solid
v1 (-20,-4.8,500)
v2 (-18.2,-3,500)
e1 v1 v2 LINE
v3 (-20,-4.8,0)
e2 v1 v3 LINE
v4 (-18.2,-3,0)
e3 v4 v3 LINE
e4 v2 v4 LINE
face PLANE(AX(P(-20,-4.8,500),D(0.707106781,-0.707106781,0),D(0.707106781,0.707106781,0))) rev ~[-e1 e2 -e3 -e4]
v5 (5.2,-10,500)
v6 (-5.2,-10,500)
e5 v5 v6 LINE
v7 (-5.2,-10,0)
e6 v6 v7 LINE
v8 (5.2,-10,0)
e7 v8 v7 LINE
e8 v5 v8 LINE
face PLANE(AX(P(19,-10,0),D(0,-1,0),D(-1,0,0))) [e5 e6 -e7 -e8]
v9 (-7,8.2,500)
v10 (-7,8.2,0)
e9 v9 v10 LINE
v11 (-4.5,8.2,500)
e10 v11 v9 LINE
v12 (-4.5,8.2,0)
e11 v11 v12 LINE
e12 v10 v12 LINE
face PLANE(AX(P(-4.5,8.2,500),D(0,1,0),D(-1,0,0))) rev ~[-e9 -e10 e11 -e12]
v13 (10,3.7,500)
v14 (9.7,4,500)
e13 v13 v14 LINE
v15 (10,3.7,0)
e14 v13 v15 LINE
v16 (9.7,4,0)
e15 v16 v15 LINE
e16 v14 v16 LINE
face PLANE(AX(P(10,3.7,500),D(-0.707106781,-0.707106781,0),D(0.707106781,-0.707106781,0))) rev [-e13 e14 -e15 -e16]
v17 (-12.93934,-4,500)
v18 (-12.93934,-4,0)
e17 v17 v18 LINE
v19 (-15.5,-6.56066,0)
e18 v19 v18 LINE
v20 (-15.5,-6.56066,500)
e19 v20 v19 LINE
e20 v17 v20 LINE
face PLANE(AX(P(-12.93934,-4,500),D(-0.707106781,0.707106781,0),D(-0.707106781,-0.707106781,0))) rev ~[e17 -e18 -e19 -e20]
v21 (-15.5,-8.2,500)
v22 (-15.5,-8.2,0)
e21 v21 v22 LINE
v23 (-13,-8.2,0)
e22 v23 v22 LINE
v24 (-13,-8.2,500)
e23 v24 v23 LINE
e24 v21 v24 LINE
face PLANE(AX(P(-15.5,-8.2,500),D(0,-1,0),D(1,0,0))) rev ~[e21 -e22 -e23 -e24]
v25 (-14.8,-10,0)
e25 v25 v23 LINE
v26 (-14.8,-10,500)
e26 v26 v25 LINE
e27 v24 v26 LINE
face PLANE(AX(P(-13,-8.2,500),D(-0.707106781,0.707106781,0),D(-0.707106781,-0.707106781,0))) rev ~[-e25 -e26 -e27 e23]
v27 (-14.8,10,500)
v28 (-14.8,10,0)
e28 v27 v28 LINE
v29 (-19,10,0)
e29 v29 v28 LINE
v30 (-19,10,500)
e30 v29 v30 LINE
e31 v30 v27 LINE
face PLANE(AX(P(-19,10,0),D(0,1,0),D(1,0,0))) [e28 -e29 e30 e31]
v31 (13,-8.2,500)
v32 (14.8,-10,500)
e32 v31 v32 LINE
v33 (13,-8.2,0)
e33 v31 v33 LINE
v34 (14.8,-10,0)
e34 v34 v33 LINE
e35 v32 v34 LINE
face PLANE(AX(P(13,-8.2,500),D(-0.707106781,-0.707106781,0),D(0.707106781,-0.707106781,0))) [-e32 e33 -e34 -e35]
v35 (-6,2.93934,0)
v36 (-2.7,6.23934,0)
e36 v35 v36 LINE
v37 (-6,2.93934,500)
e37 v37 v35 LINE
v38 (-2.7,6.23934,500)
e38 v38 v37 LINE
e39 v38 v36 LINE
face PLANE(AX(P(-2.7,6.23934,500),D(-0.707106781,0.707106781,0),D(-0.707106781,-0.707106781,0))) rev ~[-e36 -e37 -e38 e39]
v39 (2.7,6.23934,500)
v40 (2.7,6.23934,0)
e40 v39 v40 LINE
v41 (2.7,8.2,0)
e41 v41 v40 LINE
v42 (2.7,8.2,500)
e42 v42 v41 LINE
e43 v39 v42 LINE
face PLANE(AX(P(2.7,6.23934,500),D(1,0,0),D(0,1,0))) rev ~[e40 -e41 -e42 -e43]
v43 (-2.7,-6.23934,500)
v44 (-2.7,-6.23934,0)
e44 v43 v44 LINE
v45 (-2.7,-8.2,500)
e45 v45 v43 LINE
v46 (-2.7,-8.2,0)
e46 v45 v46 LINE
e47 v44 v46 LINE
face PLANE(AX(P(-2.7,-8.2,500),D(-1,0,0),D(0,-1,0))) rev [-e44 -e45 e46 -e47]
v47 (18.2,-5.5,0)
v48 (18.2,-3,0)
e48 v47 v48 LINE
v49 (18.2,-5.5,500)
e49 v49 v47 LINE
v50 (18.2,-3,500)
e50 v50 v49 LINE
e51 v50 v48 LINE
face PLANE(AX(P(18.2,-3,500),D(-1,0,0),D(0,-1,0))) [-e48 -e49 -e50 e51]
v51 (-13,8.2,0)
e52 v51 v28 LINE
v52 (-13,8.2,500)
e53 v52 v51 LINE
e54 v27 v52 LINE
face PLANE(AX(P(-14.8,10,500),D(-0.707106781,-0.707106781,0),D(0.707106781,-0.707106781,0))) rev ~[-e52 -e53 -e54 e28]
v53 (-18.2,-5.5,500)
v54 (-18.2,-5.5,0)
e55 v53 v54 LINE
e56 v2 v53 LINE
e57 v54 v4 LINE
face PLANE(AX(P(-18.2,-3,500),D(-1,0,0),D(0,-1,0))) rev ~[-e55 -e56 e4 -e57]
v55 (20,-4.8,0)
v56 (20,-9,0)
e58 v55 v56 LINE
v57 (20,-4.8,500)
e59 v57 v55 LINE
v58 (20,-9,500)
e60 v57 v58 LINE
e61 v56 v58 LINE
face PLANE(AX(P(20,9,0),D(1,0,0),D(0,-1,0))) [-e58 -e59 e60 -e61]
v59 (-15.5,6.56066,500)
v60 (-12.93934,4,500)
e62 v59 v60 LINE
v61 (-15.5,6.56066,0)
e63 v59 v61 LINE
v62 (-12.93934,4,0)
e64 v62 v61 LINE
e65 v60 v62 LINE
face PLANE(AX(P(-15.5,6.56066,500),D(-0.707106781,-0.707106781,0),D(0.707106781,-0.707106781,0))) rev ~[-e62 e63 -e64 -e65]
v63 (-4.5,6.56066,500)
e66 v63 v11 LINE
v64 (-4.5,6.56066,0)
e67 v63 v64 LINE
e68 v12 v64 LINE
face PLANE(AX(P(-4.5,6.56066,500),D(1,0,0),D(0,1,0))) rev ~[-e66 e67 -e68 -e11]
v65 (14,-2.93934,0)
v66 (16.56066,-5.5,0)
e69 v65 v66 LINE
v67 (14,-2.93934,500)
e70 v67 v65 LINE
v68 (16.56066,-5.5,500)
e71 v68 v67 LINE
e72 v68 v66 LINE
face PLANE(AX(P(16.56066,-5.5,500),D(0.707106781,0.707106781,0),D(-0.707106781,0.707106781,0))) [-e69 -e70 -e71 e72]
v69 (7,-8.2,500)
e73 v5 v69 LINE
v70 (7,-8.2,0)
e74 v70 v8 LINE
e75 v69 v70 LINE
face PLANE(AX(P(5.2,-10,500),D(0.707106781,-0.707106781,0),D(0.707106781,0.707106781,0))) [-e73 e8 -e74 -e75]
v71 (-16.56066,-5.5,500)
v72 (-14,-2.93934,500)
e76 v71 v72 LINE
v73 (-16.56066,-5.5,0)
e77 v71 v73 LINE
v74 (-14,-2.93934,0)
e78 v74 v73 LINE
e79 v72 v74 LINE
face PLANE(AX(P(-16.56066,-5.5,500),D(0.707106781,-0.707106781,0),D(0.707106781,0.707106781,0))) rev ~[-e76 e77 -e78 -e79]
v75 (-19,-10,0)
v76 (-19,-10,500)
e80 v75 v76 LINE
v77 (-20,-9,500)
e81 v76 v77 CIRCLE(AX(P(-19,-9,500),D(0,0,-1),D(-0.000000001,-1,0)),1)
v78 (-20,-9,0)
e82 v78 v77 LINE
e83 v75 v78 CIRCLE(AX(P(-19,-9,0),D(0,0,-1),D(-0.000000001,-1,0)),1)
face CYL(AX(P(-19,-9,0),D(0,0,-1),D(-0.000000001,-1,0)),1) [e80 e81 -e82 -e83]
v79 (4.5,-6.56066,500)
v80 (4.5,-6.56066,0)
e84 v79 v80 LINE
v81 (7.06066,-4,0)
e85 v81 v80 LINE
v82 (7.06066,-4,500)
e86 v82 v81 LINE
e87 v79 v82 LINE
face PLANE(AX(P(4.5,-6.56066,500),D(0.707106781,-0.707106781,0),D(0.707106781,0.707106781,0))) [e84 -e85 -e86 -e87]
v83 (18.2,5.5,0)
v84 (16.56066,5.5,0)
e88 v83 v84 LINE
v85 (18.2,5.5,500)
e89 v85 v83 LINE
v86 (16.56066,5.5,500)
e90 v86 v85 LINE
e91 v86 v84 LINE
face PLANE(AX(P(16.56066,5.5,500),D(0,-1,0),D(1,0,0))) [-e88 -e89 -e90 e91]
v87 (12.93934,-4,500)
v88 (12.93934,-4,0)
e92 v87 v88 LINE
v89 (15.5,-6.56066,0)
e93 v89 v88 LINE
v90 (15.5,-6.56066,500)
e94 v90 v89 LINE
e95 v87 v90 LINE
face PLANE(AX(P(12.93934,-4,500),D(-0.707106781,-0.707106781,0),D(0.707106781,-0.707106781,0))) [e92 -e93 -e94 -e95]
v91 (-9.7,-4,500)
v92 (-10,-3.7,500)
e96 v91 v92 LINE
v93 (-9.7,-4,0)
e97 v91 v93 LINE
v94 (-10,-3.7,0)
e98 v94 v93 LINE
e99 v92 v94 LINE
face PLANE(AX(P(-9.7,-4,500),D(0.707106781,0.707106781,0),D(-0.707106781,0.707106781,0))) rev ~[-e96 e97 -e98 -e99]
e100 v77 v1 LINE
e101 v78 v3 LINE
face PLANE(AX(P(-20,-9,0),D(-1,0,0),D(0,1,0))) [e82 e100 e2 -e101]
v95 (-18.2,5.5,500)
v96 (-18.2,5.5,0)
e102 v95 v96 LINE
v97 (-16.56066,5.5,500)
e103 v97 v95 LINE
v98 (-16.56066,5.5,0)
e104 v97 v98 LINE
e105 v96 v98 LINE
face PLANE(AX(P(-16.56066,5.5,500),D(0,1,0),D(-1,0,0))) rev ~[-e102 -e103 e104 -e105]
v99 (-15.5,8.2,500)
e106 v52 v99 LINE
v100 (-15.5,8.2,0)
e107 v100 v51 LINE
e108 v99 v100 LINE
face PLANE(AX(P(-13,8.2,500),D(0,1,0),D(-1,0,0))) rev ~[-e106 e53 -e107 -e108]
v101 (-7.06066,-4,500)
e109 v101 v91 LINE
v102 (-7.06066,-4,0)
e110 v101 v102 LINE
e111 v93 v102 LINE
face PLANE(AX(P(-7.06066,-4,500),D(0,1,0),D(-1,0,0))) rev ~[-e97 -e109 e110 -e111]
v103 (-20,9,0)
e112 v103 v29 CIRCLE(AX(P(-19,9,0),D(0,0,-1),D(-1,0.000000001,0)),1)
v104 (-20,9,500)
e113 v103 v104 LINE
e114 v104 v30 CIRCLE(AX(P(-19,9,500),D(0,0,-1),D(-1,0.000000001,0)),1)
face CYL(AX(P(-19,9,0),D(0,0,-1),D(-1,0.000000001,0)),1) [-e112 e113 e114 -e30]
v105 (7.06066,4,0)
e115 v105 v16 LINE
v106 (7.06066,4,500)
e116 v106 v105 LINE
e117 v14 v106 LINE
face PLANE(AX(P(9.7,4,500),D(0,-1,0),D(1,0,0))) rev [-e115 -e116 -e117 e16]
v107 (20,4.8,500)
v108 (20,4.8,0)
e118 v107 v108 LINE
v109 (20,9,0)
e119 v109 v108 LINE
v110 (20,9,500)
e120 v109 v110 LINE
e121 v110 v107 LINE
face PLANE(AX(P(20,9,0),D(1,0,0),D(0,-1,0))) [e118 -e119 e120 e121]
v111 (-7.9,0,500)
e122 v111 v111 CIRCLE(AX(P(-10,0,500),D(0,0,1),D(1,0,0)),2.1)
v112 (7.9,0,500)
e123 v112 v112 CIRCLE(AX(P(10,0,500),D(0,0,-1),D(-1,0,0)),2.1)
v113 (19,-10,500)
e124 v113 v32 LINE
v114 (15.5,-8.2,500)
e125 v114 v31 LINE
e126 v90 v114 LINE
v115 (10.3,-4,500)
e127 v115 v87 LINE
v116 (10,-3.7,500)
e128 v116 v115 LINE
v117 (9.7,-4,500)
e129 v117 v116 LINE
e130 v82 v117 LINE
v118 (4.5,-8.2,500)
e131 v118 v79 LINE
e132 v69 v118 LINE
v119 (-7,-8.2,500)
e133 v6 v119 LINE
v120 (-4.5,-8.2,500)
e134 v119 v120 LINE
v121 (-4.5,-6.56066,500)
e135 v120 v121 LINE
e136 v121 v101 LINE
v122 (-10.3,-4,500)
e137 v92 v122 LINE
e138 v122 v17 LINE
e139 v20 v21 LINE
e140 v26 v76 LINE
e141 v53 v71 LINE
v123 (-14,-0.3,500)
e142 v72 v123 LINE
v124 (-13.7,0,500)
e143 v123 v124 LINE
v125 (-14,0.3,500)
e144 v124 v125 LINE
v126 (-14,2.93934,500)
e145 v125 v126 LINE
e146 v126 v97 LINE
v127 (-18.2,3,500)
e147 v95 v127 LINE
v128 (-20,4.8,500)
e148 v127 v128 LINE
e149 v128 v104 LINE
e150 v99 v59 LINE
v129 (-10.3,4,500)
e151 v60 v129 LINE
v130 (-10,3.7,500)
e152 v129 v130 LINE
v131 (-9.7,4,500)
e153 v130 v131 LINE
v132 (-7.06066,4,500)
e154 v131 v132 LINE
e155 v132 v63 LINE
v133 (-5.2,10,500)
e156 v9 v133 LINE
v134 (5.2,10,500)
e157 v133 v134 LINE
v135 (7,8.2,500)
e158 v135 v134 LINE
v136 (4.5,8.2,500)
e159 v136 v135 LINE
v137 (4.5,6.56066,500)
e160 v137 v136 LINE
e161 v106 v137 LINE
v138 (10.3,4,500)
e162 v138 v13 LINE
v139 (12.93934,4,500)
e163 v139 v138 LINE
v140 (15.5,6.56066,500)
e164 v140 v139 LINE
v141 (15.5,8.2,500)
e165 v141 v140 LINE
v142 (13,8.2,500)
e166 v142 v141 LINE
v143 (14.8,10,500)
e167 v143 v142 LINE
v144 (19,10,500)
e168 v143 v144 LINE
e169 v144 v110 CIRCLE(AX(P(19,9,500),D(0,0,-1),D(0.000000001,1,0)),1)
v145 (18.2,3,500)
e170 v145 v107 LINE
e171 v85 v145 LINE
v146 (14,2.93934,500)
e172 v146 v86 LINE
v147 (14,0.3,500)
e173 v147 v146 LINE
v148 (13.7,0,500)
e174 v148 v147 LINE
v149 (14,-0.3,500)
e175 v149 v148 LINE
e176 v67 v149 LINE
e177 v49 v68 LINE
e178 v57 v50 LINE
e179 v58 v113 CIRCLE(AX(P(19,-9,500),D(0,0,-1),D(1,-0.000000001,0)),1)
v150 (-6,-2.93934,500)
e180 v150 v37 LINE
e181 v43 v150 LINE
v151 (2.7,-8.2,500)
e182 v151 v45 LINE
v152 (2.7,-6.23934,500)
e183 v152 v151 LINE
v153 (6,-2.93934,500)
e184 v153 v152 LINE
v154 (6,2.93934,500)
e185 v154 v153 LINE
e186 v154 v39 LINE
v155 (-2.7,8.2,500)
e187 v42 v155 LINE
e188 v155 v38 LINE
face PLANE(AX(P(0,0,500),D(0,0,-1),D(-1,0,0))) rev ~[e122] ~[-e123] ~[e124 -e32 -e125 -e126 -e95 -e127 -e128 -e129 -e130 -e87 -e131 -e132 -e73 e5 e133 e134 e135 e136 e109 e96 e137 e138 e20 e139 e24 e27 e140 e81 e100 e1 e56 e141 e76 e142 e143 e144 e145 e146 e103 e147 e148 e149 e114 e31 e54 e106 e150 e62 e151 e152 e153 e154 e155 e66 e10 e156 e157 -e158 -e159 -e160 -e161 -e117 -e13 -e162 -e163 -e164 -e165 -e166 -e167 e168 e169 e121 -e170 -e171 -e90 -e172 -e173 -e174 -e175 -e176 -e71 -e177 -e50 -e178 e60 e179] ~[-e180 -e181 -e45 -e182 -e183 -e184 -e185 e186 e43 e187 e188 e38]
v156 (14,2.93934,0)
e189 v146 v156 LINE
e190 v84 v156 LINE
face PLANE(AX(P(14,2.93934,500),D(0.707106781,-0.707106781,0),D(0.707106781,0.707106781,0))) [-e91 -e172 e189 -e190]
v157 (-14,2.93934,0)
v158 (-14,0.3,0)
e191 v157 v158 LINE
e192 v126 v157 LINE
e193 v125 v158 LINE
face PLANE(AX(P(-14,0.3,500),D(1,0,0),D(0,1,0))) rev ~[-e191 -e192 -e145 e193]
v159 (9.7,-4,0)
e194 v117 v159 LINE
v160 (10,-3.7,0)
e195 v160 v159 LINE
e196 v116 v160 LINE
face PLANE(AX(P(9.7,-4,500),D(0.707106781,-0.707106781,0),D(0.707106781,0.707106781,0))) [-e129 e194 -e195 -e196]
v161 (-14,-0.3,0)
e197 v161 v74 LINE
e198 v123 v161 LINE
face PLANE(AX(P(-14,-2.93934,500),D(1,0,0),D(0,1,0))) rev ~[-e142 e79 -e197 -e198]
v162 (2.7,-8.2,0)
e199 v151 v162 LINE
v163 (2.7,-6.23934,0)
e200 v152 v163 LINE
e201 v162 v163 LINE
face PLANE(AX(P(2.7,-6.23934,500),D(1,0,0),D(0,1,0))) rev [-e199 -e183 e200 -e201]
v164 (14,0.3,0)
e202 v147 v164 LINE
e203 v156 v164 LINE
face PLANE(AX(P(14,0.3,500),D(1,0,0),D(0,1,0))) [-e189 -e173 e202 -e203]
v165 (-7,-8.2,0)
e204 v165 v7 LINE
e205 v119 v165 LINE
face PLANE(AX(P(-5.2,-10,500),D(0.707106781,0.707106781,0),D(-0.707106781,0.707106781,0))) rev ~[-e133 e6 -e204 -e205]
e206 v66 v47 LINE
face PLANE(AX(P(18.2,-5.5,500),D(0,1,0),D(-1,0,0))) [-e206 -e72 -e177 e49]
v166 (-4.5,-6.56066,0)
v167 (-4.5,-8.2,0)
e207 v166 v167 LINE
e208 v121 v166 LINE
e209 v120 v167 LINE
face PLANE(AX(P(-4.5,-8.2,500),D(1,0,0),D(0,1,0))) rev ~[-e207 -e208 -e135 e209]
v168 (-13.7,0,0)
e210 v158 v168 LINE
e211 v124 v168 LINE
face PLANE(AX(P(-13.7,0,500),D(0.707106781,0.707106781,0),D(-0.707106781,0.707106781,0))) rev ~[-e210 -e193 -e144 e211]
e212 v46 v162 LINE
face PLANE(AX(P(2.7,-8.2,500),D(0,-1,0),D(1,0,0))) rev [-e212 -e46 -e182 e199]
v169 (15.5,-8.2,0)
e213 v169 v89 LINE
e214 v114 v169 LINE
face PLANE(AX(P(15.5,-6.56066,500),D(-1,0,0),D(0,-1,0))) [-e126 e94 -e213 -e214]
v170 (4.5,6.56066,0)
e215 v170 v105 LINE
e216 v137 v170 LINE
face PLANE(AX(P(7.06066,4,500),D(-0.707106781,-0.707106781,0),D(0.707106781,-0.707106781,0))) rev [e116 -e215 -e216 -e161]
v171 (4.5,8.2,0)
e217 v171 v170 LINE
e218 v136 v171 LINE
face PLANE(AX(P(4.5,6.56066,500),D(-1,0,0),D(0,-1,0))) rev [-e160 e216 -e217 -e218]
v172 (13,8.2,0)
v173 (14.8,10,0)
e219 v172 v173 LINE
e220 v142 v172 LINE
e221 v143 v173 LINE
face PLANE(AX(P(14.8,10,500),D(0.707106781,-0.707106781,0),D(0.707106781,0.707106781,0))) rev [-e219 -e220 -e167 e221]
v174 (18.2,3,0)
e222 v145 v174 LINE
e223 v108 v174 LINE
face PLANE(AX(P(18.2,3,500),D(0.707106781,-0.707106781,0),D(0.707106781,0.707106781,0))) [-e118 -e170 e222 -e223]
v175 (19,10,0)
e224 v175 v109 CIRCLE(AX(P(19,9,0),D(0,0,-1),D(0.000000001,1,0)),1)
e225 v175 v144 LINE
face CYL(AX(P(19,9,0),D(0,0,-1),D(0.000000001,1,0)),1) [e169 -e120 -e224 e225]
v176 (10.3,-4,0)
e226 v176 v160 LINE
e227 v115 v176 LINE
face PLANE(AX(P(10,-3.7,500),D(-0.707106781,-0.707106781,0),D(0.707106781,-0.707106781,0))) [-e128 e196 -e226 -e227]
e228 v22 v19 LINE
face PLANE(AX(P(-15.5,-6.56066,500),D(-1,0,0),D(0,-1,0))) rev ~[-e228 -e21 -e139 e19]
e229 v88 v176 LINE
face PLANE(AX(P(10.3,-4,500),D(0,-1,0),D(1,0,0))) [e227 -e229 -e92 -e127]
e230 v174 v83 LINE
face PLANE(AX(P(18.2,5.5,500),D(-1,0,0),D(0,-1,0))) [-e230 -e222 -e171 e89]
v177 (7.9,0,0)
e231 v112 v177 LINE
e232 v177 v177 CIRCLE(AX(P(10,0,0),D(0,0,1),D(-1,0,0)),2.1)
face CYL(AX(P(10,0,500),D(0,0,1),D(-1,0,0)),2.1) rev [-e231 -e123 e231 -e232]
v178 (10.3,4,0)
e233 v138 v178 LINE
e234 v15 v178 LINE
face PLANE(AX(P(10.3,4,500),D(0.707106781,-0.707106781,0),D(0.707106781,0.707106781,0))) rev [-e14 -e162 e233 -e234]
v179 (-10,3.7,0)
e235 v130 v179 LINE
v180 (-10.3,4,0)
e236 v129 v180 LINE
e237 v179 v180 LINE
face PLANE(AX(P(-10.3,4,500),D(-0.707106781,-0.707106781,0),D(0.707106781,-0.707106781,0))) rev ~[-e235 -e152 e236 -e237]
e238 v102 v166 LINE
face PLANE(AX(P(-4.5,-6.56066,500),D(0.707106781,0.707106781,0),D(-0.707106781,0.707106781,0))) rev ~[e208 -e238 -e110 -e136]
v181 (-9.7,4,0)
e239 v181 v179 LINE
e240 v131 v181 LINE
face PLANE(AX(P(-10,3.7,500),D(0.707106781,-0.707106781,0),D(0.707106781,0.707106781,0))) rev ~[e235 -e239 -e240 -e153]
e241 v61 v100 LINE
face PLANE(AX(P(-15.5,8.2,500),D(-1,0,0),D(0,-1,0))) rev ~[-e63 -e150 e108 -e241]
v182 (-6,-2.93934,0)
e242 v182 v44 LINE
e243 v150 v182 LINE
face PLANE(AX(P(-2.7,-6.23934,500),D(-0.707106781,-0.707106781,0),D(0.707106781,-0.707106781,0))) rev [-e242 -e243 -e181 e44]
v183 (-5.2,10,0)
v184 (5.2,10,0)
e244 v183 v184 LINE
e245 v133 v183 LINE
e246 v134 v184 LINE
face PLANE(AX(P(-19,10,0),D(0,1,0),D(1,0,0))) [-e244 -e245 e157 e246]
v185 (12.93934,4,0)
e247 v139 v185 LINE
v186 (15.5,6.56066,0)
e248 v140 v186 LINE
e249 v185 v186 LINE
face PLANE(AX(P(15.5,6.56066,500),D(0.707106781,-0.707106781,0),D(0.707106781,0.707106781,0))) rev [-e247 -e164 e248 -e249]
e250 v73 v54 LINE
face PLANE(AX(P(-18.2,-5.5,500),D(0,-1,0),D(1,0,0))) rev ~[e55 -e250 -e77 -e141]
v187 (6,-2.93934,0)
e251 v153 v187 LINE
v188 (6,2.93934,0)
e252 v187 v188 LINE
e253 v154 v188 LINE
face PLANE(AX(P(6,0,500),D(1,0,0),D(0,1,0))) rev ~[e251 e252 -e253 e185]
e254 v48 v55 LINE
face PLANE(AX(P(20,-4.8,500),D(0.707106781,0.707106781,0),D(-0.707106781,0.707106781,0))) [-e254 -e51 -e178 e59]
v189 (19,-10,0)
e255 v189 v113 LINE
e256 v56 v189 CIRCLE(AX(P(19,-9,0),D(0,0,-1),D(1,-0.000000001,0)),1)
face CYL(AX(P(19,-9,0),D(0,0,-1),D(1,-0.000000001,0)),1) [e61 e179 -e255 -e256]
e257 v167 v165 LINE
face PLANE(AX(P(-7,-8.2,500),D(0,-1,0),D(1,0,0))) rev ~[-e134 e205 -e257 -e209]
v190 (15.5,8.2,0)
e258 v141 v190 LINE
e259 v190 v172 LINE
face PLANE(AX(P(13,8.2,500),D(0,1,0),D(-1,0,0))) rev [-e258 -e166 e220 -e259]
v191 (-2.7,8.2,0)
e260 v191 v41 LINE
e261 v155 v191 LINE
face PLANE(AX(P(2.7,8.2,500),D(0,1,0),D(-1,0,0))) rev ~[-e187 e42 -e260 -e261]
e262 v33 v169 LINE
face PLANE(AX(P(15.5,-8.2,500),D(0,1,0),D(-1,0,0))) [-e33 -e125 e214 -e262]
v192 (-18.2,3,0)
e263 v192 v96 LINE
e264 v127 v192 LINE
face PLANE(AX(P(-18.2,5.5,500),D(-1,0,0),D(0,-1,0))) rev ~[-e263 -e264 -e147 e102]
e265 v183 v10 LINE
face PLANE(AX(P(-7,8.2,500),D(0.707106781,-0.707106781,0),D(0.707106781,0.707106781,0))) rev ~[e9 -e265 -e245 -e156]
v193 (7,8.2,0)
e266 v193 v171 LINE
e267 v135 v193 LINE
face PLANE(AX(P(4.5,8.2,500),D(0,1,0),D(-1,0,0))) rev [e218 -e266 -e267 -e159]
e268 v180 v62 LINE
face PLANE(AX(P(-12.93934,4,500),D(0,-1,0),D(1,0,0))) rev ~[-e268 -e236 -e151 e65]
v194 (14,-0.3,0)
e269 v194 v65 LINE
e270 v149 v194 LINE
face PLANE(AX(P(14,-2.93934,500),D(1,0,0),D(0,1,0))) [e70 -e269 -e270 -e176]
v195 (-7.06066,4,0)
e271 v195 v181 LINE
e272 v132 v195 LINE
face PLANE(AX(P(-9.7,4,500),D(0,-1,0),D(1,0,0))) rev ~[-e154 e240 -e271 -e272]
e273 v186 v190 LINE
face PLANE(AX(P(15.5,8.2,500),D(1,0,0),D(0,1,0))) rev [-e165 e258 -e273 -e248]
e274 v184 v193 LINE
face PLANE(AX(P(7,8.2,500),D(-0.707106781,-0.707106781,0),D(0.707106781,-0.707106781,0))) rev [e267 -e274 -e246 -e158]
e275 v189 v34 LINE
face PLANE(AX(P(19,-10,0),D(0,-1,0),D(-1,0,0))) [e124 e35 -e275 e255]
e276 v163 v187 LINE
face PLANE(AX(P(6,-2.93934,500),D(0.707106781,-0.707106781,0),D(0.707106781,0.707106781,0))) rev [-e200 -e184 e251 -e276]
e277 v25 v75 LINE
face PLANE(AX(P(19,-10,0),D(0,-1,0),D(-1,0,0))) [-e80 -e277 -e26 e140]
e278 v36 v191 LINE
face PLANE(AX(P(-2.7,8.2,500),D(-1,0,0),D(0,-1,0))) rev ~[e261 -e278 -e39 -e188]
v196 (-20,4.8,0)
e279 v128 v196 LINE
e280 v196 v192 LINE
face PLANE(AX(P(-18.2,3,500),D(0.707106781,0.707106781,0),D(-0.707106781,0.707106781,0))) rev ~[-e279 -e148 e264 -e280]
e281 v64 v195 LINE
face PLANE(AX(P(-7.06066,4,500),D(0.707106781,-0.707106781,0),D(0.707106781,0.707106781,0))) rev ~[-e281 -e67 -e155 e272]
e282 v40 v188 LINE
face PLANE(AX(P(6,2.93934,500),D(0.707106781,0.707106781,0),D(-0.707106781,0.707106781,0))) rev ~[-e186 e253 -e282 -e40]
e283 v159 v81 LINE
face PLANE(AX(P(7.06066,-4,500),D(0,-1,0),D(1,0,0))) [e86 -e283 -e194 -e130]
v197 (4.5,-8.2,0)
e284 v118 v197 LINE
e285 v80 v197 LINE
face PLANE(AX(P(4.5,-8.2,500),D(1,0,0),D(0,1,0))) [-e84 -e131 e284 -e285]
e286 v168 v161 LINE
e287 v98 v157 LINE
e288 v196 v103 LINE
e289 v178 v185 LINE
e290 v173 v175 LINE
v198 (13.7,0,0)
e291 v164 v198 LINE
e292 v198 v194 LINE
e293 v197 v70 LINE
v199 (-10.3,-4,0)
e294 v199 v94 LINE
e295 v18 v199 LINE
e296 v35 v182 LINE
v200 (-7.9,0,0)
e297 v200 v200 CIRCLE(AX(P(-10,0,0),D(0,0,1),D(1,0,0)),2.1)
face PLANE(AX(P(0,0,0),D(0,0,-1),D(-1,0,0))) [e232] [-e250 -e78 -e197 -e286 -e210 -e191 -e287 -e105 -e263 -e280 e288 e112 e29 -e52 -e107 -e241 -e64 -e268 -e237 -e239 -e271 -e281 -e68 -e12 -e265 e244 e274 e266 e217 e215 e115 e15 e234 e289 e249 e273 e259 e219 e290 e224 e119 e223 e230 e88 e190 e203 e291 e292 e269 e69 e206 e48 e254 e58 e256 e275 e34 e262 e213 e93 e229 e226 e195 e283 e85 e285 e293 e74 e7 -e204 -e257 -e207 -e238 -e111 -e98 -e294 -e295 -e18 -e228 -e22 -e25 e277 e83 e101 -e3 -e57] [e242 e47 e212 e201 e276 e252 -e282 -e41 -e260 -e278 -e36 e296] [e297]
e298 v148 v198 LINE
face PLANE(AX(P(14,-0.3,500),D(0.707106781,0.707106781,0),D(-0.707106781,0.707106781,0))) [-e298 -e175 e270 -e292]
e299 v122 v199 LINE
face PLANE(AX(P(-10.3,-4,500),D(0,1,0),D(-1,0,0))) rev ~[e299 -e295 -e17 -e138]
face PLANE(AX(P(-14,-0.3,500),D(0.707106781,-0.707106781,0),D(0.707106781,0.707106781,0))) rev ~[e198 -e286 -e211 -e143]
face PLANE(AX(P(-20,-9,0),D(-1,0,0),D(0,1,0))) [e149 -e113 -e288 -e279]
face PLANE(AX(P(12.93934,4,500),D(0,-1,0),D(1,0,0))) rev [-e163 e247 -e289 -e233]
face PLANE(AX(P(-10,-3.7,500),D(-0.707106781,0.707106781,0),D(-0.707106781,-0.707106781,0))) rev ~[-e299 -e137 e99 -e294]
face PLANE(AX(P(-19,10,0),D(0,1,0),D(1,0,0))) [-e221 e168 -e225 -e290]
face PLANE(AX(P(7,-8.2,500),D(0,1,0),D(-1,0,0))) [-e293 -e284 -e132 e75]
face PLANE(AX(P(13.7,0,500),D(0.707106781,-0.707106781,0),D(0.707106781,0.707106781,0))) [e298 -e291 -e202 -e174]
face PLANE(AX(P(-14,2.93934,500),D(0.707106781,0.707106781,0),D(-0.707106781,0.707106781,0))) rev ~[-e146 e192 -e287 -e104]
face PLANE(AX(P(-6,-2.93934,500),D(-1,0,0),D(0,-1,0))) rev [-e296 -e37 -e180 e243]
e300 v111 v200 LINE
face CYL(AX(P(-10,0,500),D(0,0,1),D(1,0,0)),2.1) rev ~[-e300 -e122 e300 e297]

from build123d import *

# Parameters (mm, degrees)
RESSALTO_EXTRUS_O1_DEPTH = 500
CANAL_DEPTH              = 800
ESBO_O2_5_R              = 2.1
FURO_DEPTH               = 501.49975025
CORTE_EXTRUS_O4_DEPTH    = 501.49975025
PADR_OCIRCULAR2_COUNT    = 3
PADR_OCIRCULAR2_ANGLE    = 180
ESPELHAR2_COPY_1_DEPTH   = 800
ESPELHAR2_COPY_2_DEPTH   = 800


with BuildPart() as part:
    # Esboço1 → Ressalto-extrusão1 (new body)
    with BuildSketch(Plane.XY):
        with BuildLine():
            Line((-19, 10), (19, 10))
            ThreePointArc((19, 10), (19.707106781, 9.707106781), (20, 9))
            Line((20, 9), (20, -9))
            ThreePointArc((20, -9), (19.707106781, -9.707106781), (19, -10))
            Line((19, -10), (-19, -10))
            ThreePointArc((-19, -10), (-19.707106781, -9.707106781), (-20, -9))
            Line((-20, -9), (-20, 9))
            ThreePointArc((-20, 9), (-19.707106781, 9.707106781), (-19, 10))
        make_face()
    extrude(amount=RESSALTO_EXTRUS_O1_DEPTH)

    # Esboço2 → CANAL (cut)
    with BuildSketch(Plane.XY.offset(500)):
        Polygon((-14.8, 10), (-13, 8.2), (-15.5, 8.2), (-15.5, 6.560660172), (-12.939339828, 4), (-10.3, 4), (-10, 3.7), (-9.7, 4), (-7.060660172, 4), (-4.5, 6.560660172), (-4.5, 8.2), (-7, 8.2), (-5.2, 10), align=None)
    canal = extrude(amount=-CANAL_DEPTH, mode=Mode.SUBTRACT)

    # Esboço2<5> → FURO (cut, through all)
    with BuildSketch(Plane.XY.offset(500)):
        with Locations((-10, 0)):
            Circle(ESBO_O2_5_R)
    furo = extrude(amount=-FURO_DEPTH, mode=Mode.SUBTRACT)

    # Esboço2<6> → Corte-extrusão4 (cut, through all)
    with BuildSketch(Plane.XY.offset(500)):
        Polygon((-2.7, 8.2), (-2.7, 6.239339828), (-6, 2.939339828), (-6, 0), (6, 0), (6, 2.939339828), (2.7, 6.239339828), (2.7, 8.2), align=None)
    corte_extrus_o4 = extrude(amount=-CORTE_EXTRUS_O4_DEPTH, mode=Mode.SUBTRACT)

    # PadrãoCircular2: CANAL ×3 about axis
    padr_ocircular2_axis = Axis((-10, 0, 0), (0, 0, 1))
    for i in range(1, PADR_OCIRCULAR2_COUNT):
        add(canal.rotate(padr_ocircular2_axis, i * PADR_OCIRCULAR2_ANGLE / (PADR_OCIRCULAR2_COUNT - 1)), mode=Mode.SUBTRACT)

    # Espelhar2: CANAL, FURO, Corte-extrusão4 across plane
    add(canal.mirror(Plane(origin=(0, 0, 0), x_dir=(0, 0, 1), z_dir=(1, 0, 0))), mode=Mode.SUBTRACT)
    add(furo.mirror(Plane(origin=(0, 0, 0), x_dir=(0, 0, 1), z_dir=(1, 0, 0))), mode=Mode.SUBTRACT)
    add(corte_extrus_o4.mirror(Plane(origin=(0, 0, 0), x_dir=(0, 0, 1), z_dir=(1, 0, 0))), mode=Mode.SUBTRACT)

    # Espelhar2 copy 1 sketch → Espelhar2 copy 1 (cut)
    with BuildSketch(Plane(origin=(10, 10, 500), x_dir=(0, 1, 0), z_dir=(0, 0, 1))):
        Polygon((-14.8, -10), (-13, -8.2), (-15.5, -8.2), (-15.5, -6.560660172), (-12.939339828, -4), (-10.3, -4), (-10, -3.7), (-9.7, -4), (-7.060660172, -4), (-4.5, -6.560660172), (-4.5, -8.2), (-7, -8.2), (-5.2, -10), align=None)
    extrude(amount=-ESPELHAR2_COPY_1_DEPTH, mode=Mode.SUBTRACT)

    # Espelhar2 copy 2 sketch → Espelhar2 copy 2 (cut)
    with BuildSketch(Plane(origin=(20, 0, 500), x_dir=(1, 0, 0), z_dir=(0, 0, 1))):
        Polygon((-14.8, -10), (-13, -8.2), (-15.5, -8.2), (-15.5, -6.560660172), (-12.939339828, -4), (-10.3, -4), (-10, -3.7), (-9.7, -4), (-7.060660172, -4), (-4.5, -6.560660172), (-4.5, -8.2), (-7, -8.2), (-5.2, -10), align=None)
    extrude(amount=-ESPELHAR2_COPY_2_DEPTH, mode=Mode.SUBTRACT)

    # Espelhar3: Corte-extrusão4 across plane
    add(corte_extrus_o4.mirror(Plane.ZX), mode=Mode.SUBTRACT)


solid = part.part
